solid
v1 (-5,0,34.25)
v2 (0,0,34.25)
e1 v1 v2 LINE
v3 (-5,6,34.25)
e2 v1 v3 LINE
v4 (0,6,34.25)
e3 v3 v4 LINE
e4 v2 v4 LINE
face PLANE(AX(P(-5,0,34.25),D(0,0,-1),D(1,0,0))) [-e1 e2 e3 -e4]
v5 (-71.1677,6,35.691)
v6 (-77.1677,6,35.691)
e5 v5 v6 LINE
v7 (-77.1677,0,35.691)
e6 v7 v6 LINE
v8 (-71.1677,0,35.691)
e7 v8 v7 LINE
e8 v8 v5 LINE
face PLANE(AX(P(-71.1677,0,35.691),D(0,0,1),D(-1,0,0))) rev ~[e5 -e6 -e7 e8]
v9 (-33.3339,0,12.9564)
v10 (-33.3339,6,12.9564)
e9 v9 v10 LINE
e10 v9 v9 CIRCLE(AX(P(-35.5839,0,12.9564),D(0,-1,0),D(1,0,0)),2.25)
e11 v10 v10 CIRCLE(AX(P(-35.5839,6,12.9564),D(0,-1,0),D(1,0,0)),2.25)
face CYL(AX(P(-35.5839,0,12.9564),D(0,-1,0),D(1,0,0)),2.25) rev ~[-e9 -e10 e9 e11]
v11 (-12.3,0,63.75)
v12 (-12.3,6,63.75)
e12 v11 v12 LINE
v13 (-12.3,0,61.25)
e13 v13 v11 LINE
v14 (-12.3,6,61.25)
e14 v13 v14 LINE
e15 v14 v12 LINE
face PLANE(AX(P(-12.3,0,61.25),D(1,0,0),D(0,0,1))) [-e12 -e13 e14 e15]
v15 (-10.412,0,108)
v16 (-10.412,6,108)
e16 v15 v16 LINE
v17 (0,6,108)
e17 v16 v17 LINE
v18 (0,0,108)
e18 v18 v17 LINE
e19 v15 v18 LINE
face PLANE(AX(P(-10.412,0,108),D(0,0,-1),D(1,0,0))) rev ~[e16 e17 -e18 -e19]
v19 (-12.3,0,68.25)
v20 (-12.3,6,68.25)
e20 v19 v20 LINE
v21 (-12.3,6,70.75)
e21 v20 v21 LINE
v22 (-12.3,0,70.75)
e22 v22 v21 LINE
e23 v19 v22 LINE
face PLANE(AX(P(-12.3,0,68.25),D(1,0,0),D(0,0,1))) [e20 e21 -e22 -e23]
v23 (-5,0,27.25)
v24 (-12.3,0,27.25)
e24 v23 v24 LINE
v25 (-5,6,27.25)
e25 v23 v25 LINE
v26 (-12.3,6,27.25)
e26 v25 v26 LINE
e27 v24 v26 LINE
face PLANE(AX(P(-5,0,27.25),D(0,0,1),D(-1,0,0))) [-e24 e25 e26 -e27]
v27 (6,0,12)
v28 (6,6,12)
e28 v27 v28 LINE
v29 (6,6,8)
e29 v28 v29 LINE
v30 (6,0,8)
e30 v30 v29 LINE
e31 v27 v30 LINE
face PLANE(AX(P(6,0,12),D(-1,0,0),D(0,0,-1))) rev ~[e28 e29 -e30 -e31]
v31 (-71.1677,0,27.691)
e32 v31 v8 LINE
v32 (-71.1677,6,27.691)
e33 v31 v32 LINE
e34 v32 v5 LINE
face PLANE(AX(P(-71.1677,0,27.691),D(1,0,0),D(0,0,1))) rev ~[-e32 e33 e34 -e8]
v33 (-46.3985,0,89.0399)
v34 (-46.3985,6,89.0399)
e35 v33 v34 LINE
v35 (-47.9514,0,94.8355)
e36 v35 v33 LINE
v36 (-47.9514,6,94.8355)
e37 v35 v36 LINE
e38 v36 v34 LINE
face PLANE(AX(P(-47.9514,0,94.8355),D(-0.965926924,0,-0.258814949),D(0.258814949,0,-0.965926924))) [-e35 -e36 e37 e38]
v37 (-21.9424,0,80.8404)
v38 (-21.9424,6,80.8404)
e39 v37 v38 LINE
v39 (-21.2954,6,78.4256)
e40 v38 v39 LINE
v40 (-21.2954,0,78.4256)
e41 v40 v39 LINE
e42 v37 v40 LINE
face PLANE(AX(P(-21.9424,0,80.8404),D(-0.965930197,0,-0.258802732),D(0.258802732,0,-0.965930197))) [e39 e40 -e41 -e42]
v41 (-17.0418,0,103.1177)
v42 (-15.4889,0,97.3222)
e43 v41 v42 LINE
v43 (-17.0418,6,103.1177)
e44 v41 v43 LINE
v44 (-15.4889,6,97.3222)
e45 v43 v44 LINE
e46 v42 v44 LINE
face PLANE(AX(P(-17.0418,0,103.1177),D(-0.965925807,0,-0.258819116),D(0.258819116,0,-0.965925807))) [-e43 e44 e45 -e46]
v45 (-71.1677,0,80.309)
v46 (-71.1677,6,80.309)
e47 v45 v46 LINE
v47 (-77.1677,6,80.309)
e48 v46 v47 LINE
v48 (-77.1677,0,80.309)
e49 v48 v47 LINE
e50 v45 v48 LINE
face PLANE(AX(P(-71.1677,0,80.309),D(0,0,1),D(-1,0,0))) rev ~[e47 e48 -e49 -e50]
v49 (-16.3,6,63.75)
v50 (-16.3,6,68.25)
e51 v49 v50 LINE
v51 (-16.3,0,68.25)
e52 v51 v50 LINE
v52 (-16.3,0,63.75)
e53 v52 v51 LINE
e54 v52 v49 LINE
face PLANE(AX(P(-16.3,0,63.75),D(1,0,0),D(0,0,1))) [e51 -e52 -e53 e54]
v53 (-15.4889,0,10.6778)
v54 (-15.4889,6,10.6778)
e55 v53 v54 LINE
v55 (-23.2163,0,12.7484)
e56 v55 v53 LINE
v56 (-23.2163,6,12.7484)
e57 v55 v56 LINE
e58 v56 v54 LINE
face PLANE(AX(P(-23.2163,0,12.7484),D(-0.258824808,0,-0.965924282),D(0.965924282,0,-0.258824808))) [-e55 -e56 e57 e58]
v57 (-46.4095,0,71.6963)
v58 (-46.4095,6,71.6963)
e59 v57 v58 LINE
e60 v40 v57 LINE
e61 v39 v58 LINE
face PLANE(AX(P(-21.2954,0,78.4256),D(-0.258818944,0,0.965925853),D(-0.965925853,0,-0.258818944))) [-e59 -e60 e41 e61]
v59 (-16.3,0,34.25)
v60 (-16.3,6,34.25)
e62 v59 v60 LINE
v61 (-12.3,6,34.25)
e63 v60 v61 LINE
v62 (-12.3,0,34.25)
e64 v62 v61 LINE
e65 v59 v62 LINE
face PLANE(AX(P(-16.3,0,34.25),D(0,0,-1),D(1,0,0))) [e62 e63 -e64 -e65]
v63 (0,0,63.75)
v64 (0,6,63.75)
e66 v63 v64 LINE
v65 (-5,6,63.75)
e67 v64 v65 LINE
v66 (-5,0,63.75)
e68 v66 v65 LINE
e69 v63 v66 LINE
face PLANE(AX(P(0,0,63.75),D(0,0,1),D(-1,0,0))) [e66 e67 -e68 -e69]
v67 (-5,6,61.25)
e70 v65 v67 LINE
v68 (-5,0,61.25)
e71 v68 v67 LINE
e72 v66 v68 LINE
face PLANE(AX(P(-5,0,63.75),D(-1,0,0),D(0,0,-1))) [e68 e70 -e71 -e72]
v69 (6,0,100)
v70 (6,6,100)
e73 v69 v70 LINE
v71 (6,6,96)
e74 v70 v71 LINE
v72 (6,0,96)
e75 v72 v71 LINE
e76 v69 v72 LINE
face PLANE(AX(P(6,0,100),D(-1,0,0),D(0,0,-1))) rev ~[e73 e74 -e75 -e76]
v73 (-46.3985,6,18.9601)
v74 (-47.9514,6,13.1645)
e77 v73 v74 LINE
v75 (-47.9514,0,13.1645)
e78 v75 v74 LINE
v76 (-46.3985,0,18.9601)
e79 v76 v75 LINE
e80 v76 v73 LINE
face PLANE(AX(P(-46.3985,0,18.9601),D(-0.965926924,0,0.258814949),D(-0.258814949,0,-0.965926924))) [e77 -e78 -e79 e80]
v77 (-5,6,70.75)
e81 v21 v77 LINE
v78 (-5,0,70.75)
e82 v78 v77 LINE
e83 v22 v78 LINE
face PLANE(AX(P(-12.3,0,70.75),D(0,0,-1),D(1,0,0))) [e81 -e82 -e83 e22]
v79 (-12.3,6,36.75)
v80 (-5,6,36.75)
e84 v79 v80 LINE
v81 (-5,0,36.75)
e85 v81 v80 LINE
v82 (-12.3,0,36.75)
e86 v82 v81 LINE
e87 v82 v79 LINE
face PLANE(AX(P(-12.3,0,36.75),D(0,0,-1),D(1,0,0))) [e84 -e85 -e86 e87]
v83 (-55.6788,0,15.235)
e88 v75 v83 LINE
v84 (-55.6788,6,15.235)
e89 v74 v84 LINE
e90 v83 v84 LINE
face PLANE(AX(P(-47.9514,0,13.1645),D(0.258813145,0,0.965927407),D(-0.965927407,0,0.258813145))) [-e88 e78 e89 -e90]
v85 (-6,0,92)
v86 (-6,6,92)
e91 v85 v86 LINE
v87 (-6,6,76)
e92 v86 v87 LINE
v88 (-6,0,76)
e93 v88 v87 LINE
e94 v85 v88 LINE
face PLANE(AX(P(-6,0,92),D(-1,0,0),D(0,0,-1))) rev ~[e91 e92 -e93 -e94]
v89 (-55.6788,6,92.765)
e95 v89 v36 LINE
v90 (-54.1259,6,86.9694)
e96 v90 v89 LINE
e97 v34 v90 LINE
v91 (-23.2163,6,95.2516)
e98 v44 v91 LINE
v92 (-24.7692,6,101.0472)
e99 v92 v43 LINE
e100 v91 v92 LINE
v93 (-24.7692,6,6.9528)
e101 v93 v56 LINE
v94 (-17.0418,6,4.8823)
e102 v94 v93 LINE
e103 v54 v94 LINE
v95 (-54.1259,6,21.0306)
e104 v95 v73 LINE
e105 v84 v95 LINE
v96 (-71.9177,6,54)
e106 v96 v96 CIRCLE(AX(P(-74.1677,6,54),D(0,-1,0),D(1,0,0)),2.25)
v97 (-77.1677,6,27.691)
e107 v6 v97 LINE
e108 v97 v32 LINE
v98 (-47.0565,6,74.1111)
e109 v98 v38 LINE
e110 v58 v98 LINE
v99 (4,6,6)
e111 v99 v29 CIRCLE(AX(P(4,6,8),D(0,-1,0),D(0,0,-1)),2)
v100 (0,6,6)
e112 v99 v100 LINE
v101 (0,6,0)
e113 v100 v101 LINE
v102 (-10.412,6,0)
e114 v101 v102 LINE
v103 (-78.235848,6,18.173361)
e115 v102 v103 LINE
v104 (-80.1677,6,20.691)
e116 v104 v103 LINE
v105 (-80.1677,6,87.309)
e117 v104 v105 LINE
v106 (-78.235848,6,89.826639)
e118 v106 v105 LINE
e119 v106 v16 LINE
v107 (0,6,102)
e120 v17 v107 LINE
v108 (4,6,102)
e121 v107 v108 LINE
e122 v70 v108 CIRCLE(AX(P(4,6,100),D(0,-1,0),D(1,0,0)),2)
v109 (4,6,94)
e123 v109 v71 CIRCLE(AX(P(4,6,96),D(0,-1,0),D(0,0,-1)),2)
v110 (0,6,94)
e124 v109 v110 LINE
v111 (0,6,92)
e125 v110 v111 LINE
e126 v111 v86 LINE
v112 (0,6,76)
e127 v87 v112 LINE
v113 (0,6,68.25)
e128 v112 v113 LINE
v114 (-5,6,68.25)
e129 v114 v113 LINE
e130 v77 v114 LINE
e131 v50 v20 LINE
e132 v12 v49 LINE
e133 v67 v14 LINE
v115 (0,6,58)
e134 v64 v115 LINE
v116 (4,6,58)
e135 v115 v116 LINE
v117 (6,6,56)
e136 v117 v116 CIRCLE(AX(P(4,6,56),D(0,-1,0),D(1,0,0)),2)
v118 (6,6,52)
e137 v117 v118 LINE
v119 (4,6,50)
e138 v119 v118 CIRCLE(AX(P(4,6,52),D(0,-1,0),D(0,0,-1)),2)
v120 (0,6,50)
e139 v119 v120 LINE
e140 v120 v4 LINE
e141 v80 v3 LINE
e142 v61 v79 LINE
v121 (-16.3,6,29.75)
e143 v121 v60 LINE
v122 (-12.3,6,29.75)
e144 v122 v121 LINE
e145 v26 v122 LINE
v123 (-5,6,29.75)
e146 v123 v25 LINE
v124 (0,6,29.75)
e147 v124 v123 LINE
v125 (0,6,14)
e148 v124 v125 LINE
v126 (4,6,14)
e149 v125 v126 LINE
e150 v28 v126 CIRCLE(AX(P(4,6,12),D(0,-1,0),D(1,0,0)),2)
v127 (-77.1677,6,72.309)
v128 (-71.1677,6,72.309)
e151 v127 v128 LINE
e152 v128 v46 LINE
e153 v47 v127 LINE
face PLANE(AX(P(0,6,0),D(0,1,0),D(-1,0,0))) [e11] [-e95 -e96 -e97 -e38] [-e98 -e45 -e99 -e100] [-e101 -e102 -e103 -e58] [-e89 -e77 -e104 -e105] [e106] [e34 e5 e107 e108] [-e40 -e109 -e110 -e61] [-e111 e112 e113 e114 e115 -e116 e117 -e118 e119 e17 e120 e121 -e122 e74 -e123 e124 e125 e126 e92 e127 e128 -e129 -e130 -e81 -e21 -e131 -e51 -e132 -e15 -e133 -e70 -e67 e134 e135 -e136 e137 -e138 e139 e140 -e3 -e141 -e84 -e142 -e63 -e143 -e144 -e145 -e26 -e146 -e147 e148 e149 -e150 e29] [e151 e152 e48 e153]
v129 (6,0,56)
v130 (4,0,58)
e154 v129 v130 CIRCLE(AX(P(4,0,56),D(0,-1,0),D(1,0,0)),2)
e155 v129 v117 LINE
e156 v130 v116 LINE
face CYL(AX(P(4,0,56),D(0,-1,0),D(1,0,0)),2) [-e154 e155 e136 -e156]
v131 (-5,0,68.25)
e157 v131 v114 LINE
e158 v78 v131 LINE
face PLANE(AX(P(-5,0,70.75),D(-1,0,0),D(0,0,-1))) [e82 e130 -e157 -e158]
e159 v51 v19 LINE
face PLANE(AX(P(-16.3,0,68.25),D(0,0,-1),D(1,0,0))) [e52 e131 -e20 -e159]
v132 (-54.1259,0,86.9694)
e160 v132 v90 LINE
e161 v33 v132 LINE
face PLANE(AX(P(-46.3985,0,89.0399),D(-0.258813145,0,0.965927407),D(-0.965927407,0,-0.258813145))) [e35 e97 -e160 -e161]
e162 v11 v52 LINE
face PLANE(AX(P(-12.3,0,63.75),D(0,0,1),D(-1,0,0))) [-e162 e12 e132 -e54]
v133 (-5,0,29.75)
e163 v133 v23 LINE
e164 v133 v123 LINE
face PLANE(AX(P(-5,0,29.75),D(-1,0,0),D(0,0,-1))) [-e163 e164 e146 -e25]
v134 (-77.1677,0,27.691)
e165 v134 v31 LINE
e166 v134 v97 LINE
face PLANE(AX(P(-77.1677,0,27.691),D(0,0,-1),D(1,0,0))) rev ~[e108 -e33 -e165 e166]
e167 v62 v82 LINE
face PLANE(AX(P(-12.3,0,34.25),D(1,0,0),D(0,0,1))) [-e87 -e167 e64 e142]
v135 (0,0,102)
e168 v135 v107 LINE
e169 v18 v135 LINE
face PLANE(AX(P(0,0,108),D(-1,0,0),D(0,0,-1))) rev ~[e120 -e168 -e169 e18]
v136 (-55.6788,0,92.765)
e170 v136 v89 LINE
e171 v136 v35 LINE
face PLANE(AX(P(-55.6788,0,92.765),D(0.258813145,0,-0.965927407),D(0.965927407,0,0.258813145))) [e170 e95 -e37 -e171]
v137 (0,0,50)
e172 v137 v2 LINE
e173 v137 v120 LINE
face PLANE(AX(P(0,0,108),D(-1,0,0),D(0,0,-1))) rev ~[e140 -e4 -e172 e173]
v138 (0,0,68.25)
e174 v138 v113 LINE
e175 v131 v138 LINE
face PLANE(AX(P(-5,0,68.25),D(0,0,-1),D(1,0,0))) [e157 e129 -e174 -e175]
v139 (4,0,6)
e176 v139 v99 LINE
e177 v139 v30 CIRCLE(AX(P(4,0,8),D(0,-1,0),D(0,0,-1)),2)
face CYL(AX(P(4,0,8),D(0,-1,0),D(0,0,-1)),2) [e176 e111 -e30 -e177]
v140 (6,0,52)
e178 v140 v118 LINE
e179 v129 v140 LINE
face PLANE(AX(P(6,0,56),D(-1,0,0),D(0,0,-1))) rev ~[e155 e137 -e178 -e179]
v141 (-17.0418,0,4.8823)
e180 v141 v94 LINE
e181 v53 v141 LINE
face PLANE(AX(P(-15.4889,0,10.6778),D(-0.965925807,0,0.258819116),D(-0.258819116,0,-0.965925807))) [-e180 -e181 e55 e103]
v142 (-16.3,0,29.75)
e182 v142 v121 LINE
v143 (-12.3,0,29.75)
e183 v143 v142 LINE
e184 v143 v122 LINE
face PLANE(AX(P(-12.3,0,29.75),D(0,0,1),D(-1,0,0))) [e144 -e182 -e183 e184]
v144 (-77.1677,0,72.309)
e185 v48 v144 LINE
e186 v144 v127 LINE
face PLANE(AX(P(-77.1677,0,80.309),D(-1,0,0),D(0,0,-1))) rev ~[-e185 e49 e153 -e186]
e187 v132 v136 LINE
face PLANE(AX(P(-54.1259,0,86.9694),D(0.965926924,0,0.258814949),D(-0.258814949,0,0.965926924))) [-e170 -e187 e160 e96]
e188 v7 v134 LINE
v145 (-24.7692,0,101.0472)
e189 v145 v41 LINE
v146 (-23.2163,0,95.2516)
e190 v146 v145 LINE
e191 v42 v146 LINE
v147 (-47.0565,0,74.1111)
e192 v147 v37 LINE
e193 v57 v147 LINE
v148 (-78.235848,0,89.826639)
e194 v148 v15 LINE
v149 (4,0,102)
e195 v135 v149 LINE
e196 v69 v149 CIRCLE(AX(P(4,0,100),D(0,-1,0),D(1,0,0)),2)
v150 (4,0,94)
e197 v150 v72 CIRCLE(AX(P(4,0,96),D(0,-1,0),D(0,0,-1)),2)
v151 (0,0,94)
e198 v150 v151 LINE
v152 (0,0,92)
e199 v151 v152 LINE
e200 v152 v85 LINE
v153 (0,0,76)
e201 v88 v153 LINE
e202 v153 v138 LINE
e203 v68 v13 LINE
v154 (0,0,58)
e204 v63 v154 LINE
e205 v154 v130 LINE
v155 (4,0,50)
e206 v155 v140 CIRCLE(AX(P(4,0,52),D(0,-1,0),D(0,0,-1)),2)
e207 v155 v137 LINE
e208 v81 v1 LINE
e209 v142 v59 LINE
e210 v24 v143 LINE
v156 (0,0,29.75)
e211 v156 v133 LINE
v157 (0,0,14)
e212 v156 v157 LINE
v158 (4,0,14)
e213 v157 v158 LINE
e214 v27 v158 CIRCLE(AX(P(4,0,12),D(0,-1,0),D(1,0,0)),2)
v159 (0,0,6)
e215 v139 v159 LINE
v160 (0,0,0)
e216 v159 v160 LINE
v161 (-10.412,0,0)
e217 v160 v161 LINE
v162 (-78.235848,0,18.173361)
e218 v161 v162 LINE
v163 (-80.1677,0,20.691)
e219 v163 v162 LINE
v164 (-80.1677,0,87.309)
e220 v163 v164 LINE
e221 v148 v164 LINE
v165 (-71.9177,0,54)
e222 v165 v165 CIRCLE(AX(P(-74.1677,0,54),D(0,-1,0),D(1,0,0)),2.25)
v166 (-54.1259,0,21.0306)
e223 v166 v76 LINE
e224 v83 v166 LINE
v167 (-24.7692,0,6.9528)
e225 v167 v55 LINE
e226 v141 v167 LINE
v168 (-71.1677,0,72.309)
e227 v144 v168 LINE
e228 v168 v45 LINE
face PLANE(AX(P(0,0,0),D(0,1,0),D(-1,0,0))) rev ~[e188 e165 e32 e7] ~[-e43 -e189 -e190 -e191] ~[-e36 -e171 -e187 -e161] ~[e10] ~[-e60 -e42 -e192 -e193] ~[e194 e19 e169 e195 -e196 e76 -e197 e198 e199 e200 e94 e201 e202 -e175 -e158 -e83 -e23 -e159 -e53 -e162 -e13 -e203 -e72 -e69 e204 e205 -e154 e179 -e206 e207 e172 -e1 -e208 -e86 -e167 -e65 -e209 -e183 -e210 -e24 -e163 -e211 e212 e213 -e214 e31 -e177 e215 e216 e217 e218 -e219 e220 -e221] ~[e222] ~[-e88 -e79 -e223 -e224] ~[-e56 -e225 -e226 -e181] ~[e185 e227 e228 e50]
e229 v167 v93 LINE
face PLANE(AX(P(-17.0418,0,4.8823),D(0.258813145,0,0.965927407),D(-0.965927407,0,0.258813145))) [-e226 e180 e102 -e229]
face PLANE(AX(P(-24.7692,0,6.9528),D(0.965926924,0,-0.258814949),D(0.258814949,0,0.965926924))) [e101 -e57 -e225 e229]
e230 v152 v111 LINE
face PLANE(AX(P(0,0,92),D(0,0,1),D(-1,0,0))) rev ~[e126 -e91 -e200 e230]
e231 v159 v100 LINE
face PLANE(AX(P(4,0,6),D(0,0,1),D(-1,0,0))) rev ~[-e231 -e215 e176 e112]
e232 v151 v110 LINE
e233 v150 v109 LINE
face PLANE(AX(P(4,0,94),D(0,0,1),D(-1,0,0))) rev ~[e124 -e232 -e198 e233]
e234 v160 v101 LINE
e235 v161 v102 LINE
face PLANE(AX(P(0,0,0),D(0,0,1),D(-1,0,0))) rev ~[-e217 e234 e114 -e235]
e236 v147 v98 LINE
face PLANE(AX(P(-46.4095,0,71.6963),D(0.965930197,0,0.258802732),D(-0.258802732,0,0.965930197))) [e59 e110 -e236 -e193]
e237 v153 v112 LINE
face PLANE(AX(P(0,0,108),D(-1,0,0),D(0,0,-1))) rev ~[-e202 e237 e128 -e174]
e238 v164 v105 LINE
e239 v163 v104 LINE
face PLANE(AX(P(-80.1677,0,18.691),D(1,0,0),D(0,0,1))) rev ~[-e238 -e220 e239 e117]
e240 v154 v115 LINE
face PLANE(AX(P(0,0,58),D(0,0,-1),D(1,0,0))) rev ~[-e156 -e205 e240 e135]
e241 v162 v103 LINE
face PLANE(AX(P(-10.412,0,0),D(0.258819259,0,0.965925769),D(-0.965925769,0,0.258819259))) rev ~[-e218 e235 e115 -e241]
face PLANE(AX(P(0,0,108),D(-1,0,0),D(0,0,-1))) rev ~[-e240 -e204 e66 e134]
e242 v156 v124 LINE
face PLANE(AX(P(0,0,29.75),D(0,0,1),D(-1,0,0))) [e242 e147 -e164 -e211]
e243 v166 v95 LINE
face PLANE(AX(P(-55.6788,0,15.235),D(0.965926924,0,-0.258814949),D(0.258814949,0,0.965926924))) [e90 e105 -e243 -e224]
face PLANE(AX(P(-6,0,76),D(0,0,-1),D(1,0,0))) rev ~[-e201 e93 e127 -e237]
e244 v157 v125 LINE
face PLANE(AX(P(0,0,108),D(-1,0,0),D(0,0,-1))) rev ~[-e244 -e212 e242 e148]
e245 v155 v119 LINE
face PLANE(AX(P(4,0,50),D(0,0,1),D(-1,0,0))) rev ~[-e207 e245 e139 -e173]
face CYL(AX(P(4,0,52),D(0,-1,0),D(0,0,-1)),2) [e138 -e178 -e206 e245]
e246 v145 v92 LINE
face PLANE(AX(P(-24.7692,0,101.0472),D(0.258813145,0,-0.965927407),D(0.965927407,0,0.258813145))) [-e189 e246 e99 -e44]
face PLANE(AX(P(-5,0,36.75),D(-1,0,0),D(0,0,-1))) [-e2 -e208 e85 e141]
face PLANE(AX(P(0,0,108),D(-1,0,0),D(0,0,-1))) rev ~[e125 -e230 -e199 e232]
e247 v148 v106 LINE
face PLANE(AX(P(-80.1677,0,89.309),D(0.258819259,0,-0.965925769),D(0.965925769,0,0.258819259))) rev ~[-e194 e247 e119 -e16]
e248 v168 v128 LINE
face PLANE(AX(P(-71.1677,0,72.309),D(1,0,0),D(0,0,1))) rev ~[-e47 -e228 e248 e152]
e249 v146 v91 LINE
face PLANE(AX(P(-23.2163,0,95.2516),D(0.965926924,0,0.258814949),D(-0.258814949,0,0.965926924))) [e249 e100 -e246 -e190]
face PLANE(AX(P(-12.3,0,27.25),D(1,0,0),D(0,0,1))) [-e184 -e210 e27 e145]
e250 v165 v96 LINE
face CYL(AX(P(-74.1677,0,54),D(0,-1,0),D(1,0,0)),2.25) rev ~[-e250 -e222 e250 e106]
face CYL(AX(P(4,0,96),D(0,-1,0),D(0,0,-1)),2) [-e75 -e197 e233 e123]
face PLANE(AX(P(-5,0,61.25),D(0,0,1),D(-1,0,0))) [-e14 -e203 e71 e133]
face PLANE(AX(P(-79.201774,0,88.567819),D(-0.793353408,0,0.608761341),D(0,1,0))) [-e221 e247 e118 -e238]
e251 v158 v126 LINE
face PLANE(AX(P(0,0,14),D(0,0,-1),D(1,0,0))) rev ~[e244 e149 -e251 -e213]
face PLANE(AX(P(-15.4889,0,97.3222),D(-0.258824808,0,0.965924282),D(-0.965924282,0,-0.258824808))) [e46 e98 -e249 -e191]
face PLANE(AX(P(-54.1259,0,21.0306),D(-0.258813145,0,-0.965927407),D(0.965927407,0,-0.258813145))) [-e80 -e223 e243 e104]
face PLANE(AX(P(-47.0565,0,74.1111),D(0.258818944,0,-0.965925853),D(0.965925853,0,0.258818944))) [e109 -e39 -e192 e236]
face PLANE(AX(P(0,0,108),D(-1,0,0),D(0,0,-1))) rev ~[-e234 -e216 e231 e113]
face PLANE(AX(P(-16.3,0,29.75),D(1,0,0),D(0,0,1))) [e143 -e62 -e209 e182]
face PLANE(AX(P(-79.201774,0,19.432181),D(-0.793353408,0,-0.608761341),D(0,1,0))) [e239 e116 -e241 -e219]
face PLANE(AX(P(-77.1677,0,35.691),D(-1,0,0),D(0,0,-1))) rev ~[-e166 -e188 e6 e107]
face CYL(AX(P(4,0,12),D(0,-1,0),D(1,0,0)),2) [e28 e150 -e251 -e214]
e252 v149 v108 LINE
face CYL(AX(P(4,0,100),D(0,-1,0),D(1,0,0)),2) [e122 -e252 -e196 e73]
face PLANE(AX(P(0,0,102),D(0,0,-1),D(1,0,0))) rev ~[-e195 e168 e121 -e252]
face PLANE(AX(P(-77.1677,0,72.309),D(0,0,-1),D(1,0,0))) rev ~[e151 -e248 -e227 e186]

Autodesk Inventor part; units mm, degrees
ref_plane "YZ Plane" through (0, 0, 0) normal (1, 0, 0) x (0, 1, 0)
ref_plane "XZ Plane" through (0, 0, 0) normal (0, 1, 0) x (-1, 0, 0)
ref_plane "XY Plane" through (0, 0, 0) normal (0, 0, 1) x (1, 0, 0)
sketch "Sketch1" plane through (0, 0, 0) normal (0, 1, 0) x (-1, 0, 0)
  line L0 (0, 108) -> (0, 0)
  line L1 (0, 0) -> (10.412, 0)
  line L2 (10.412, 0) -> (80.1677, 18.691)
  line L3 (80.1677, 18.691) -> (80.1677, 89.309)
  line L4 (80.1677, 89.309) -> (10.412, 108)
  line L5 (10.412, 108) -> (0, 108)
  line L6 (2.5529, 107) -> (1, 101.2044) construction
  line L7 (1, 101.2044) -> (68.6148, 83.0871) construction
  line L8 (68.6148, 83.0871) -> (70.1677, 88.8827) construction
  line L9 (70.1677, 88.8827) -> (2.5529, 107) construction
  line L10 (1, 6.7956) -> (2.5529, 1) construction
  line L11 (2.5529, 1) -> (70.1677, 19.1173) construction
  line L12 (70.1677, 19.1173) -> (68.6148, 24.9129) construction
  line L13 (68.6148, 24.9129) -> (1, 6.7956) construction
  line L14 (71.1677, 88.309) -> (77.1677, 88.309) construction
  line L15 (77.1677, 88.309) -> (77.1677, 19.691) construction
  line L16 (77.1677, 19.691) -> (71.1677, 19.691) construction
  line L17 (71.1677, 19.691) -> (71.1677, 88.309) construction
  line L18 (17.0418, 103.1177) -> (15.4889, 97.3222)
  line L19 (15.4889, 97.3222) -> (23.2163, 95.2516)
  line L20 (23.2163, 95.2516) -> (24.7692, 101.0472)
  line L21 (24.7692, 101.0472) -> (17.0418, 103.1177)
  line L22 (47.9514, 94.8355) -> (46.3985, 89.0399)
  line L23 (46.3985, 89.0399) -> (54.1259, 86.9694)
  line L24 (54.1259, 86.9694) -> (55.6788, 92.765)
  line L25 (55.6788, 92.765) -> (47.9514, 94.8355)
  line L26 (15.4889, 10.6778) -> (17.0418, 4.8823)
  line L27 (17.0418, 4.8823) -> (24.7692, 6.9528)
  line L28 (24.7692, 6.9528) -> (23.2163, 12.7484)
  line L29 (23.2163, 12.7484) -> (15.4889, 10.6778)
  line L30 (46.3985, 18.9601) -> (47.9514, 13.1645)
  line L31 (47.9514, 13.1645) -> (55.6788, 15.235)
  line L32 (55.6788, 15.235) -> (54.1259, 21.0306)
  line L33 (54.1259, 21.0306) -> (46.3985, 18.9601)
  line L34 (54.9024, 89.8672) -> (69.3913, 85.9849) construction
  line L35 (16.2653, 7.7801) -> (1.7765, 3.8978) construction
  line L36 (54.9024, 18.1328) -> (69.3913, 22.0151) construction
  line L37 (16.2653, 100.2199) -> (1.7765, 104.1022) construction
  line L38 (71.1677, 80.309) -> (77.1677, 80.309)
  line L39 (77.1677, 80.309) -> (77.1677, 72.309)
  line L40 (77.1677, 72.309) -> (71.1677, 72.309)
  line L41 (71.1677, 72.309) -> (71.1677, 80.309)
  line L42 (71.1677, 35.691) -> (77.1677, 35.691)
  line L43 (77.1677, 35.691) -> (77.1677, 27.691)
  line L44 (77.1677, 27.691) -> (71.1677, 27.691)
  line L45 (71.1677, 27.691) -> (71.1677, 35.691)
  line L46 (74.1677, 80.309) -> (74.1677, 88.309) construction
  line L47 (74.1677, 27.691) -> (74.1677, 19.691) construction
  dimension "d0" = 70
  dimension "d1" = 6
  dimension "d3" = 70
  dimension "d4" = 6
  dimension "d7" = 3
  dimension "d8" = 3
  dimension "d9" = 6
  dimension "d10" = 3
  dimension "d11" = 1
  dimension "d12" = 1
  dimension "d13" = 1
  dimension "d14" = 1
  dimension "d15" = 15
  dimension "d16" = 1
  dimension "d17" = 1
  dimension "d18" = 1
  dimension "d19" = 108
  dimension "d20" = 8
  dimension "d21" = 15
  dimension "d22" = 8
extrude "Extrusion7" add sketch "Sketch1" along normal blind 6
sketch "Sketch7" plane through (0, 0, 0) normal (0, -1, 0) x (1, 0, 0)
  line L0 (0, 0) -> (0, 108) projected
  line L1 (0, 92) -> (-6, 92)
  line L2 (-6, 92) -> (-6, 76)
  line L3 (-6, 76) -> (0, 76)
  line L4 (0, 76) -> (0, 92)
  dimension "d74" = 16
  dimension "d75" = 16
  dimension "d76" = 6
extrude "Extrusion8" cut sketch "Sketch7" against normal blind 6
sketch "Sketch8" plane through (0, 0, 0) normal (0, -1, 0) x (1, 0, 0)
  line L0 (-77.1677, 72.309) -> (-71.1677, 35.691) construction
  line L1 (-77.1677, 35.691) -> (-71.1677, 72.309) construction
  circle A0 centre (-74.1677, 54) radius 2.25
  dimension "d80" = 4.5
extrude "Extrusion9" cut sketch "Sketch8" against normal blind 6
sketch "Sketch9" plane through (0, 0, 0) normal (0, -1, 0) x (1, 0, 0)
  line L0 (-46.3985, 18.9601) -> (-24.7692, 6.9528) construction
  line L1 (-23.2163, 12.7484) -> (-47.9514, 13.1645) construction
  circle A0 centre (-35.5839, 12.9564) radius 2.25
  dimension "d83" = 4.5
extrude "Extrusion10" cut sketch "Sketch9" against normal blind 6
sketch "Sketch10" plane through (0, 0, 0) normal (0, -1, 0) x (1, 0, 0)
  line L0 (0, 0) -> (0, 76) projected
  line L1 (0, 68.25) -> (0, 63.75)
  line L2 (-16.3, 63.75) -> (-16.3, 68.25)
  line L3 (-12.3, 70.75) -> (-5, 70.75)
  line L4 (-5, 61.25) -> (-12.3, 61.25)
  line L5 (-16.3, 68.25) -> (-12.3, 68.25)
  line L6 (-5, 68.25) -> (0, 68.25)
  line L7 (0, 63.75) -> (-5, 63.75)
  line L8 (-12.3, 63.75) -> (-16.3, 63.75)
  line L9 (-12.3, 61.25) -> (-12.3, 63.75)
  line L10 (-12.3, 68.25) -> (-12.3, 70.75)
  line L11 (-5, 70.75) -> (-5, 68.25)
  line L12 (-5, 63.75) -> (-5, 61.25)
  line L13 (0, 34.25) -> (0, 29.75)
  line L14 (-16.3, 29.75) -> (-16.3, 34.25)
  line L15 (-12.3, 36.75) -> (-5, 36.75)
  line L16 (-5, 27.25) -> (-12.3, 27.25)
  line L17 (-16.3, 34.25) -> (-12.3, 34.25)
  line L18 (-5, 34.25) -> (0, 34.25)
  line L19 (0, 29.75) -> (-5, 29.75)
  line L20 (-12.3, 29.75) -> (-16.3, 29.75)
  line L21 (-12.3, 27.25) -> (-12.3, 29.75)
  line L22 (-12.3, 34.25) -> (-12.3, 36.75)
  line L23 (-5, 36.75) -> (-5, 34.25)
  line L24 (-5, 29.75) -> (-5, 27.25)
  point P0 (0, 108)
  point P1 (-16.3, 66)
  point P2 (-16.3, 32)
  dimension "d86" = 4.5
  dimension "d87" = 2.5
  dimension "d88" = 2.5
  dimension "d89" = 5
  dimension "d90" = 7.3
  dimension "d91" = 4
  dimension "d92" = 4.5
  dimension "d93" = 2.5
  dimension "d94" = 2.5
  dimension "d95" = 5
  dimension "d96" = 7.3
  dimension "d97" = 4
  dimension "d98" = 42
  dimension "d99" = 34
extrude "Extrusion11" cut sketch "Sketch10" against normal blind 6
sketch "Sketch11" plane through (0, 0, 0) normal (0, -1, 0) x (1, 0, 0)
  line L0 (0, 68.25) -> (0, 76) projected
  line L1 (0, 108) -> (-10.412, 108) projected
  line L2 (-23.2163, 95.2516) -> (-24.7692, 101.0472) projected
  line L3 (-46.4441, 73.7575) -> (-22.296, 80.228) construction
  line L4 (-22.296, 80.228) -> (-21.9078, 78.7791) construction
  line L5 (-21.9078, 78.7791) -> (-46.0559, 72.3086) construction
  line L6 (-46.0559, 72.3086) -> (-46.4441, 73.7575) construction
  line L7 (-47.0565, 74.1111) -> (-21.9424, 80.8404)
  line L8 (-21.9424, 80.8404) -> (-21.2954, 78.4256)
  line L9 (-21.2954, 78.4256) -> (-46.4095, 71.6963)
  line L10 (-46.4095, 71.6963) -> (-47.0565, 74.1111)
  dimension "d102" = 25
  dimension "d103" = 1.5
  dimension "d104" = 0.5
  dimension "d105" = 22.296
  dimension "d106" = 27.772
extrude "Extrusion12" cut sketch "Sketch11" against normal blind 6
chamfer "Chamfer2" distance 2 angle 45 2 edges at (-80.1677, 3, 89.309) (-80.1677, 3, 18.691)
sketch "Sketch12" plane through (0, 0, 0) normal (0, -1, 0) x (1, 0, 0)
  line L0 (0, 0) -> (0, 29.75) projected
  line L1 (0, 34.25) -> (0, 63.75) projected
  line L2 (0, 92) -> (0, 108) projected
  line L3 (0, 108) -> (-10.412, 108) projected
  line L4 (0, 102) -> (4, 102)
  line L5 (6, 100) -> (6, 96)
  line L6 (4, 94) -> (0, 94)
  line L7 (0, 94) -> (0, 102)
  line L8 (0, 58) -> (4, 58)
  line L9 (6, 56) -> (6, 52)
  line L10 (4, 50) -> (0, 50)
  line L11 (0, 50) -> (0, 58)
  line L12 (0, 14) -> (4, 14)
  line L13 (6, 12) -> (6, 8)
  line L14 (4, 6) -> (0, 6)
  line L15 (0, 6) -> (0, 14)
  arc A0 (6, 100) -> (4, 102) centre (4, 100) ccw
  arc A1 (4, 94) -> (6, 96) centre (4, 96) ccw
  arc A2 (6, 56) -> (4, 58) centre (4, 56) ccw
  arc A3 (4, 50) -> (6, 52) centre (4, 52) ccw
  arc A4 (4, 6) -> (6, 8) centre (4, 8) ccw
  arc A5 (6, 12) -> (4, 14) centre (4, 12) ccw
  dimension "d112" = 2
  dimension "d113" = 8
  dimension "d114" = 8
  dimension "d115" = 8
  dimension "d116" = 6
  dimension "d117" = 6
  dimension "d118" = 36
  dimension "d119" = 36
extrude "Extrusion13" add sketch "Sketch12" against normal blind 6
equation "\"d3\" = d0"
equation "\"d4\" = d1"
equation "\"d8\" = d7"
equation "\"d9\" = d1"
equation "\"d10\" = d7"
equation "\"d12\" = d11"
equation "\"d88\" = d87"
equation "\"d94\" = d93"
properties part number "front_panel_2004_brace_left"
